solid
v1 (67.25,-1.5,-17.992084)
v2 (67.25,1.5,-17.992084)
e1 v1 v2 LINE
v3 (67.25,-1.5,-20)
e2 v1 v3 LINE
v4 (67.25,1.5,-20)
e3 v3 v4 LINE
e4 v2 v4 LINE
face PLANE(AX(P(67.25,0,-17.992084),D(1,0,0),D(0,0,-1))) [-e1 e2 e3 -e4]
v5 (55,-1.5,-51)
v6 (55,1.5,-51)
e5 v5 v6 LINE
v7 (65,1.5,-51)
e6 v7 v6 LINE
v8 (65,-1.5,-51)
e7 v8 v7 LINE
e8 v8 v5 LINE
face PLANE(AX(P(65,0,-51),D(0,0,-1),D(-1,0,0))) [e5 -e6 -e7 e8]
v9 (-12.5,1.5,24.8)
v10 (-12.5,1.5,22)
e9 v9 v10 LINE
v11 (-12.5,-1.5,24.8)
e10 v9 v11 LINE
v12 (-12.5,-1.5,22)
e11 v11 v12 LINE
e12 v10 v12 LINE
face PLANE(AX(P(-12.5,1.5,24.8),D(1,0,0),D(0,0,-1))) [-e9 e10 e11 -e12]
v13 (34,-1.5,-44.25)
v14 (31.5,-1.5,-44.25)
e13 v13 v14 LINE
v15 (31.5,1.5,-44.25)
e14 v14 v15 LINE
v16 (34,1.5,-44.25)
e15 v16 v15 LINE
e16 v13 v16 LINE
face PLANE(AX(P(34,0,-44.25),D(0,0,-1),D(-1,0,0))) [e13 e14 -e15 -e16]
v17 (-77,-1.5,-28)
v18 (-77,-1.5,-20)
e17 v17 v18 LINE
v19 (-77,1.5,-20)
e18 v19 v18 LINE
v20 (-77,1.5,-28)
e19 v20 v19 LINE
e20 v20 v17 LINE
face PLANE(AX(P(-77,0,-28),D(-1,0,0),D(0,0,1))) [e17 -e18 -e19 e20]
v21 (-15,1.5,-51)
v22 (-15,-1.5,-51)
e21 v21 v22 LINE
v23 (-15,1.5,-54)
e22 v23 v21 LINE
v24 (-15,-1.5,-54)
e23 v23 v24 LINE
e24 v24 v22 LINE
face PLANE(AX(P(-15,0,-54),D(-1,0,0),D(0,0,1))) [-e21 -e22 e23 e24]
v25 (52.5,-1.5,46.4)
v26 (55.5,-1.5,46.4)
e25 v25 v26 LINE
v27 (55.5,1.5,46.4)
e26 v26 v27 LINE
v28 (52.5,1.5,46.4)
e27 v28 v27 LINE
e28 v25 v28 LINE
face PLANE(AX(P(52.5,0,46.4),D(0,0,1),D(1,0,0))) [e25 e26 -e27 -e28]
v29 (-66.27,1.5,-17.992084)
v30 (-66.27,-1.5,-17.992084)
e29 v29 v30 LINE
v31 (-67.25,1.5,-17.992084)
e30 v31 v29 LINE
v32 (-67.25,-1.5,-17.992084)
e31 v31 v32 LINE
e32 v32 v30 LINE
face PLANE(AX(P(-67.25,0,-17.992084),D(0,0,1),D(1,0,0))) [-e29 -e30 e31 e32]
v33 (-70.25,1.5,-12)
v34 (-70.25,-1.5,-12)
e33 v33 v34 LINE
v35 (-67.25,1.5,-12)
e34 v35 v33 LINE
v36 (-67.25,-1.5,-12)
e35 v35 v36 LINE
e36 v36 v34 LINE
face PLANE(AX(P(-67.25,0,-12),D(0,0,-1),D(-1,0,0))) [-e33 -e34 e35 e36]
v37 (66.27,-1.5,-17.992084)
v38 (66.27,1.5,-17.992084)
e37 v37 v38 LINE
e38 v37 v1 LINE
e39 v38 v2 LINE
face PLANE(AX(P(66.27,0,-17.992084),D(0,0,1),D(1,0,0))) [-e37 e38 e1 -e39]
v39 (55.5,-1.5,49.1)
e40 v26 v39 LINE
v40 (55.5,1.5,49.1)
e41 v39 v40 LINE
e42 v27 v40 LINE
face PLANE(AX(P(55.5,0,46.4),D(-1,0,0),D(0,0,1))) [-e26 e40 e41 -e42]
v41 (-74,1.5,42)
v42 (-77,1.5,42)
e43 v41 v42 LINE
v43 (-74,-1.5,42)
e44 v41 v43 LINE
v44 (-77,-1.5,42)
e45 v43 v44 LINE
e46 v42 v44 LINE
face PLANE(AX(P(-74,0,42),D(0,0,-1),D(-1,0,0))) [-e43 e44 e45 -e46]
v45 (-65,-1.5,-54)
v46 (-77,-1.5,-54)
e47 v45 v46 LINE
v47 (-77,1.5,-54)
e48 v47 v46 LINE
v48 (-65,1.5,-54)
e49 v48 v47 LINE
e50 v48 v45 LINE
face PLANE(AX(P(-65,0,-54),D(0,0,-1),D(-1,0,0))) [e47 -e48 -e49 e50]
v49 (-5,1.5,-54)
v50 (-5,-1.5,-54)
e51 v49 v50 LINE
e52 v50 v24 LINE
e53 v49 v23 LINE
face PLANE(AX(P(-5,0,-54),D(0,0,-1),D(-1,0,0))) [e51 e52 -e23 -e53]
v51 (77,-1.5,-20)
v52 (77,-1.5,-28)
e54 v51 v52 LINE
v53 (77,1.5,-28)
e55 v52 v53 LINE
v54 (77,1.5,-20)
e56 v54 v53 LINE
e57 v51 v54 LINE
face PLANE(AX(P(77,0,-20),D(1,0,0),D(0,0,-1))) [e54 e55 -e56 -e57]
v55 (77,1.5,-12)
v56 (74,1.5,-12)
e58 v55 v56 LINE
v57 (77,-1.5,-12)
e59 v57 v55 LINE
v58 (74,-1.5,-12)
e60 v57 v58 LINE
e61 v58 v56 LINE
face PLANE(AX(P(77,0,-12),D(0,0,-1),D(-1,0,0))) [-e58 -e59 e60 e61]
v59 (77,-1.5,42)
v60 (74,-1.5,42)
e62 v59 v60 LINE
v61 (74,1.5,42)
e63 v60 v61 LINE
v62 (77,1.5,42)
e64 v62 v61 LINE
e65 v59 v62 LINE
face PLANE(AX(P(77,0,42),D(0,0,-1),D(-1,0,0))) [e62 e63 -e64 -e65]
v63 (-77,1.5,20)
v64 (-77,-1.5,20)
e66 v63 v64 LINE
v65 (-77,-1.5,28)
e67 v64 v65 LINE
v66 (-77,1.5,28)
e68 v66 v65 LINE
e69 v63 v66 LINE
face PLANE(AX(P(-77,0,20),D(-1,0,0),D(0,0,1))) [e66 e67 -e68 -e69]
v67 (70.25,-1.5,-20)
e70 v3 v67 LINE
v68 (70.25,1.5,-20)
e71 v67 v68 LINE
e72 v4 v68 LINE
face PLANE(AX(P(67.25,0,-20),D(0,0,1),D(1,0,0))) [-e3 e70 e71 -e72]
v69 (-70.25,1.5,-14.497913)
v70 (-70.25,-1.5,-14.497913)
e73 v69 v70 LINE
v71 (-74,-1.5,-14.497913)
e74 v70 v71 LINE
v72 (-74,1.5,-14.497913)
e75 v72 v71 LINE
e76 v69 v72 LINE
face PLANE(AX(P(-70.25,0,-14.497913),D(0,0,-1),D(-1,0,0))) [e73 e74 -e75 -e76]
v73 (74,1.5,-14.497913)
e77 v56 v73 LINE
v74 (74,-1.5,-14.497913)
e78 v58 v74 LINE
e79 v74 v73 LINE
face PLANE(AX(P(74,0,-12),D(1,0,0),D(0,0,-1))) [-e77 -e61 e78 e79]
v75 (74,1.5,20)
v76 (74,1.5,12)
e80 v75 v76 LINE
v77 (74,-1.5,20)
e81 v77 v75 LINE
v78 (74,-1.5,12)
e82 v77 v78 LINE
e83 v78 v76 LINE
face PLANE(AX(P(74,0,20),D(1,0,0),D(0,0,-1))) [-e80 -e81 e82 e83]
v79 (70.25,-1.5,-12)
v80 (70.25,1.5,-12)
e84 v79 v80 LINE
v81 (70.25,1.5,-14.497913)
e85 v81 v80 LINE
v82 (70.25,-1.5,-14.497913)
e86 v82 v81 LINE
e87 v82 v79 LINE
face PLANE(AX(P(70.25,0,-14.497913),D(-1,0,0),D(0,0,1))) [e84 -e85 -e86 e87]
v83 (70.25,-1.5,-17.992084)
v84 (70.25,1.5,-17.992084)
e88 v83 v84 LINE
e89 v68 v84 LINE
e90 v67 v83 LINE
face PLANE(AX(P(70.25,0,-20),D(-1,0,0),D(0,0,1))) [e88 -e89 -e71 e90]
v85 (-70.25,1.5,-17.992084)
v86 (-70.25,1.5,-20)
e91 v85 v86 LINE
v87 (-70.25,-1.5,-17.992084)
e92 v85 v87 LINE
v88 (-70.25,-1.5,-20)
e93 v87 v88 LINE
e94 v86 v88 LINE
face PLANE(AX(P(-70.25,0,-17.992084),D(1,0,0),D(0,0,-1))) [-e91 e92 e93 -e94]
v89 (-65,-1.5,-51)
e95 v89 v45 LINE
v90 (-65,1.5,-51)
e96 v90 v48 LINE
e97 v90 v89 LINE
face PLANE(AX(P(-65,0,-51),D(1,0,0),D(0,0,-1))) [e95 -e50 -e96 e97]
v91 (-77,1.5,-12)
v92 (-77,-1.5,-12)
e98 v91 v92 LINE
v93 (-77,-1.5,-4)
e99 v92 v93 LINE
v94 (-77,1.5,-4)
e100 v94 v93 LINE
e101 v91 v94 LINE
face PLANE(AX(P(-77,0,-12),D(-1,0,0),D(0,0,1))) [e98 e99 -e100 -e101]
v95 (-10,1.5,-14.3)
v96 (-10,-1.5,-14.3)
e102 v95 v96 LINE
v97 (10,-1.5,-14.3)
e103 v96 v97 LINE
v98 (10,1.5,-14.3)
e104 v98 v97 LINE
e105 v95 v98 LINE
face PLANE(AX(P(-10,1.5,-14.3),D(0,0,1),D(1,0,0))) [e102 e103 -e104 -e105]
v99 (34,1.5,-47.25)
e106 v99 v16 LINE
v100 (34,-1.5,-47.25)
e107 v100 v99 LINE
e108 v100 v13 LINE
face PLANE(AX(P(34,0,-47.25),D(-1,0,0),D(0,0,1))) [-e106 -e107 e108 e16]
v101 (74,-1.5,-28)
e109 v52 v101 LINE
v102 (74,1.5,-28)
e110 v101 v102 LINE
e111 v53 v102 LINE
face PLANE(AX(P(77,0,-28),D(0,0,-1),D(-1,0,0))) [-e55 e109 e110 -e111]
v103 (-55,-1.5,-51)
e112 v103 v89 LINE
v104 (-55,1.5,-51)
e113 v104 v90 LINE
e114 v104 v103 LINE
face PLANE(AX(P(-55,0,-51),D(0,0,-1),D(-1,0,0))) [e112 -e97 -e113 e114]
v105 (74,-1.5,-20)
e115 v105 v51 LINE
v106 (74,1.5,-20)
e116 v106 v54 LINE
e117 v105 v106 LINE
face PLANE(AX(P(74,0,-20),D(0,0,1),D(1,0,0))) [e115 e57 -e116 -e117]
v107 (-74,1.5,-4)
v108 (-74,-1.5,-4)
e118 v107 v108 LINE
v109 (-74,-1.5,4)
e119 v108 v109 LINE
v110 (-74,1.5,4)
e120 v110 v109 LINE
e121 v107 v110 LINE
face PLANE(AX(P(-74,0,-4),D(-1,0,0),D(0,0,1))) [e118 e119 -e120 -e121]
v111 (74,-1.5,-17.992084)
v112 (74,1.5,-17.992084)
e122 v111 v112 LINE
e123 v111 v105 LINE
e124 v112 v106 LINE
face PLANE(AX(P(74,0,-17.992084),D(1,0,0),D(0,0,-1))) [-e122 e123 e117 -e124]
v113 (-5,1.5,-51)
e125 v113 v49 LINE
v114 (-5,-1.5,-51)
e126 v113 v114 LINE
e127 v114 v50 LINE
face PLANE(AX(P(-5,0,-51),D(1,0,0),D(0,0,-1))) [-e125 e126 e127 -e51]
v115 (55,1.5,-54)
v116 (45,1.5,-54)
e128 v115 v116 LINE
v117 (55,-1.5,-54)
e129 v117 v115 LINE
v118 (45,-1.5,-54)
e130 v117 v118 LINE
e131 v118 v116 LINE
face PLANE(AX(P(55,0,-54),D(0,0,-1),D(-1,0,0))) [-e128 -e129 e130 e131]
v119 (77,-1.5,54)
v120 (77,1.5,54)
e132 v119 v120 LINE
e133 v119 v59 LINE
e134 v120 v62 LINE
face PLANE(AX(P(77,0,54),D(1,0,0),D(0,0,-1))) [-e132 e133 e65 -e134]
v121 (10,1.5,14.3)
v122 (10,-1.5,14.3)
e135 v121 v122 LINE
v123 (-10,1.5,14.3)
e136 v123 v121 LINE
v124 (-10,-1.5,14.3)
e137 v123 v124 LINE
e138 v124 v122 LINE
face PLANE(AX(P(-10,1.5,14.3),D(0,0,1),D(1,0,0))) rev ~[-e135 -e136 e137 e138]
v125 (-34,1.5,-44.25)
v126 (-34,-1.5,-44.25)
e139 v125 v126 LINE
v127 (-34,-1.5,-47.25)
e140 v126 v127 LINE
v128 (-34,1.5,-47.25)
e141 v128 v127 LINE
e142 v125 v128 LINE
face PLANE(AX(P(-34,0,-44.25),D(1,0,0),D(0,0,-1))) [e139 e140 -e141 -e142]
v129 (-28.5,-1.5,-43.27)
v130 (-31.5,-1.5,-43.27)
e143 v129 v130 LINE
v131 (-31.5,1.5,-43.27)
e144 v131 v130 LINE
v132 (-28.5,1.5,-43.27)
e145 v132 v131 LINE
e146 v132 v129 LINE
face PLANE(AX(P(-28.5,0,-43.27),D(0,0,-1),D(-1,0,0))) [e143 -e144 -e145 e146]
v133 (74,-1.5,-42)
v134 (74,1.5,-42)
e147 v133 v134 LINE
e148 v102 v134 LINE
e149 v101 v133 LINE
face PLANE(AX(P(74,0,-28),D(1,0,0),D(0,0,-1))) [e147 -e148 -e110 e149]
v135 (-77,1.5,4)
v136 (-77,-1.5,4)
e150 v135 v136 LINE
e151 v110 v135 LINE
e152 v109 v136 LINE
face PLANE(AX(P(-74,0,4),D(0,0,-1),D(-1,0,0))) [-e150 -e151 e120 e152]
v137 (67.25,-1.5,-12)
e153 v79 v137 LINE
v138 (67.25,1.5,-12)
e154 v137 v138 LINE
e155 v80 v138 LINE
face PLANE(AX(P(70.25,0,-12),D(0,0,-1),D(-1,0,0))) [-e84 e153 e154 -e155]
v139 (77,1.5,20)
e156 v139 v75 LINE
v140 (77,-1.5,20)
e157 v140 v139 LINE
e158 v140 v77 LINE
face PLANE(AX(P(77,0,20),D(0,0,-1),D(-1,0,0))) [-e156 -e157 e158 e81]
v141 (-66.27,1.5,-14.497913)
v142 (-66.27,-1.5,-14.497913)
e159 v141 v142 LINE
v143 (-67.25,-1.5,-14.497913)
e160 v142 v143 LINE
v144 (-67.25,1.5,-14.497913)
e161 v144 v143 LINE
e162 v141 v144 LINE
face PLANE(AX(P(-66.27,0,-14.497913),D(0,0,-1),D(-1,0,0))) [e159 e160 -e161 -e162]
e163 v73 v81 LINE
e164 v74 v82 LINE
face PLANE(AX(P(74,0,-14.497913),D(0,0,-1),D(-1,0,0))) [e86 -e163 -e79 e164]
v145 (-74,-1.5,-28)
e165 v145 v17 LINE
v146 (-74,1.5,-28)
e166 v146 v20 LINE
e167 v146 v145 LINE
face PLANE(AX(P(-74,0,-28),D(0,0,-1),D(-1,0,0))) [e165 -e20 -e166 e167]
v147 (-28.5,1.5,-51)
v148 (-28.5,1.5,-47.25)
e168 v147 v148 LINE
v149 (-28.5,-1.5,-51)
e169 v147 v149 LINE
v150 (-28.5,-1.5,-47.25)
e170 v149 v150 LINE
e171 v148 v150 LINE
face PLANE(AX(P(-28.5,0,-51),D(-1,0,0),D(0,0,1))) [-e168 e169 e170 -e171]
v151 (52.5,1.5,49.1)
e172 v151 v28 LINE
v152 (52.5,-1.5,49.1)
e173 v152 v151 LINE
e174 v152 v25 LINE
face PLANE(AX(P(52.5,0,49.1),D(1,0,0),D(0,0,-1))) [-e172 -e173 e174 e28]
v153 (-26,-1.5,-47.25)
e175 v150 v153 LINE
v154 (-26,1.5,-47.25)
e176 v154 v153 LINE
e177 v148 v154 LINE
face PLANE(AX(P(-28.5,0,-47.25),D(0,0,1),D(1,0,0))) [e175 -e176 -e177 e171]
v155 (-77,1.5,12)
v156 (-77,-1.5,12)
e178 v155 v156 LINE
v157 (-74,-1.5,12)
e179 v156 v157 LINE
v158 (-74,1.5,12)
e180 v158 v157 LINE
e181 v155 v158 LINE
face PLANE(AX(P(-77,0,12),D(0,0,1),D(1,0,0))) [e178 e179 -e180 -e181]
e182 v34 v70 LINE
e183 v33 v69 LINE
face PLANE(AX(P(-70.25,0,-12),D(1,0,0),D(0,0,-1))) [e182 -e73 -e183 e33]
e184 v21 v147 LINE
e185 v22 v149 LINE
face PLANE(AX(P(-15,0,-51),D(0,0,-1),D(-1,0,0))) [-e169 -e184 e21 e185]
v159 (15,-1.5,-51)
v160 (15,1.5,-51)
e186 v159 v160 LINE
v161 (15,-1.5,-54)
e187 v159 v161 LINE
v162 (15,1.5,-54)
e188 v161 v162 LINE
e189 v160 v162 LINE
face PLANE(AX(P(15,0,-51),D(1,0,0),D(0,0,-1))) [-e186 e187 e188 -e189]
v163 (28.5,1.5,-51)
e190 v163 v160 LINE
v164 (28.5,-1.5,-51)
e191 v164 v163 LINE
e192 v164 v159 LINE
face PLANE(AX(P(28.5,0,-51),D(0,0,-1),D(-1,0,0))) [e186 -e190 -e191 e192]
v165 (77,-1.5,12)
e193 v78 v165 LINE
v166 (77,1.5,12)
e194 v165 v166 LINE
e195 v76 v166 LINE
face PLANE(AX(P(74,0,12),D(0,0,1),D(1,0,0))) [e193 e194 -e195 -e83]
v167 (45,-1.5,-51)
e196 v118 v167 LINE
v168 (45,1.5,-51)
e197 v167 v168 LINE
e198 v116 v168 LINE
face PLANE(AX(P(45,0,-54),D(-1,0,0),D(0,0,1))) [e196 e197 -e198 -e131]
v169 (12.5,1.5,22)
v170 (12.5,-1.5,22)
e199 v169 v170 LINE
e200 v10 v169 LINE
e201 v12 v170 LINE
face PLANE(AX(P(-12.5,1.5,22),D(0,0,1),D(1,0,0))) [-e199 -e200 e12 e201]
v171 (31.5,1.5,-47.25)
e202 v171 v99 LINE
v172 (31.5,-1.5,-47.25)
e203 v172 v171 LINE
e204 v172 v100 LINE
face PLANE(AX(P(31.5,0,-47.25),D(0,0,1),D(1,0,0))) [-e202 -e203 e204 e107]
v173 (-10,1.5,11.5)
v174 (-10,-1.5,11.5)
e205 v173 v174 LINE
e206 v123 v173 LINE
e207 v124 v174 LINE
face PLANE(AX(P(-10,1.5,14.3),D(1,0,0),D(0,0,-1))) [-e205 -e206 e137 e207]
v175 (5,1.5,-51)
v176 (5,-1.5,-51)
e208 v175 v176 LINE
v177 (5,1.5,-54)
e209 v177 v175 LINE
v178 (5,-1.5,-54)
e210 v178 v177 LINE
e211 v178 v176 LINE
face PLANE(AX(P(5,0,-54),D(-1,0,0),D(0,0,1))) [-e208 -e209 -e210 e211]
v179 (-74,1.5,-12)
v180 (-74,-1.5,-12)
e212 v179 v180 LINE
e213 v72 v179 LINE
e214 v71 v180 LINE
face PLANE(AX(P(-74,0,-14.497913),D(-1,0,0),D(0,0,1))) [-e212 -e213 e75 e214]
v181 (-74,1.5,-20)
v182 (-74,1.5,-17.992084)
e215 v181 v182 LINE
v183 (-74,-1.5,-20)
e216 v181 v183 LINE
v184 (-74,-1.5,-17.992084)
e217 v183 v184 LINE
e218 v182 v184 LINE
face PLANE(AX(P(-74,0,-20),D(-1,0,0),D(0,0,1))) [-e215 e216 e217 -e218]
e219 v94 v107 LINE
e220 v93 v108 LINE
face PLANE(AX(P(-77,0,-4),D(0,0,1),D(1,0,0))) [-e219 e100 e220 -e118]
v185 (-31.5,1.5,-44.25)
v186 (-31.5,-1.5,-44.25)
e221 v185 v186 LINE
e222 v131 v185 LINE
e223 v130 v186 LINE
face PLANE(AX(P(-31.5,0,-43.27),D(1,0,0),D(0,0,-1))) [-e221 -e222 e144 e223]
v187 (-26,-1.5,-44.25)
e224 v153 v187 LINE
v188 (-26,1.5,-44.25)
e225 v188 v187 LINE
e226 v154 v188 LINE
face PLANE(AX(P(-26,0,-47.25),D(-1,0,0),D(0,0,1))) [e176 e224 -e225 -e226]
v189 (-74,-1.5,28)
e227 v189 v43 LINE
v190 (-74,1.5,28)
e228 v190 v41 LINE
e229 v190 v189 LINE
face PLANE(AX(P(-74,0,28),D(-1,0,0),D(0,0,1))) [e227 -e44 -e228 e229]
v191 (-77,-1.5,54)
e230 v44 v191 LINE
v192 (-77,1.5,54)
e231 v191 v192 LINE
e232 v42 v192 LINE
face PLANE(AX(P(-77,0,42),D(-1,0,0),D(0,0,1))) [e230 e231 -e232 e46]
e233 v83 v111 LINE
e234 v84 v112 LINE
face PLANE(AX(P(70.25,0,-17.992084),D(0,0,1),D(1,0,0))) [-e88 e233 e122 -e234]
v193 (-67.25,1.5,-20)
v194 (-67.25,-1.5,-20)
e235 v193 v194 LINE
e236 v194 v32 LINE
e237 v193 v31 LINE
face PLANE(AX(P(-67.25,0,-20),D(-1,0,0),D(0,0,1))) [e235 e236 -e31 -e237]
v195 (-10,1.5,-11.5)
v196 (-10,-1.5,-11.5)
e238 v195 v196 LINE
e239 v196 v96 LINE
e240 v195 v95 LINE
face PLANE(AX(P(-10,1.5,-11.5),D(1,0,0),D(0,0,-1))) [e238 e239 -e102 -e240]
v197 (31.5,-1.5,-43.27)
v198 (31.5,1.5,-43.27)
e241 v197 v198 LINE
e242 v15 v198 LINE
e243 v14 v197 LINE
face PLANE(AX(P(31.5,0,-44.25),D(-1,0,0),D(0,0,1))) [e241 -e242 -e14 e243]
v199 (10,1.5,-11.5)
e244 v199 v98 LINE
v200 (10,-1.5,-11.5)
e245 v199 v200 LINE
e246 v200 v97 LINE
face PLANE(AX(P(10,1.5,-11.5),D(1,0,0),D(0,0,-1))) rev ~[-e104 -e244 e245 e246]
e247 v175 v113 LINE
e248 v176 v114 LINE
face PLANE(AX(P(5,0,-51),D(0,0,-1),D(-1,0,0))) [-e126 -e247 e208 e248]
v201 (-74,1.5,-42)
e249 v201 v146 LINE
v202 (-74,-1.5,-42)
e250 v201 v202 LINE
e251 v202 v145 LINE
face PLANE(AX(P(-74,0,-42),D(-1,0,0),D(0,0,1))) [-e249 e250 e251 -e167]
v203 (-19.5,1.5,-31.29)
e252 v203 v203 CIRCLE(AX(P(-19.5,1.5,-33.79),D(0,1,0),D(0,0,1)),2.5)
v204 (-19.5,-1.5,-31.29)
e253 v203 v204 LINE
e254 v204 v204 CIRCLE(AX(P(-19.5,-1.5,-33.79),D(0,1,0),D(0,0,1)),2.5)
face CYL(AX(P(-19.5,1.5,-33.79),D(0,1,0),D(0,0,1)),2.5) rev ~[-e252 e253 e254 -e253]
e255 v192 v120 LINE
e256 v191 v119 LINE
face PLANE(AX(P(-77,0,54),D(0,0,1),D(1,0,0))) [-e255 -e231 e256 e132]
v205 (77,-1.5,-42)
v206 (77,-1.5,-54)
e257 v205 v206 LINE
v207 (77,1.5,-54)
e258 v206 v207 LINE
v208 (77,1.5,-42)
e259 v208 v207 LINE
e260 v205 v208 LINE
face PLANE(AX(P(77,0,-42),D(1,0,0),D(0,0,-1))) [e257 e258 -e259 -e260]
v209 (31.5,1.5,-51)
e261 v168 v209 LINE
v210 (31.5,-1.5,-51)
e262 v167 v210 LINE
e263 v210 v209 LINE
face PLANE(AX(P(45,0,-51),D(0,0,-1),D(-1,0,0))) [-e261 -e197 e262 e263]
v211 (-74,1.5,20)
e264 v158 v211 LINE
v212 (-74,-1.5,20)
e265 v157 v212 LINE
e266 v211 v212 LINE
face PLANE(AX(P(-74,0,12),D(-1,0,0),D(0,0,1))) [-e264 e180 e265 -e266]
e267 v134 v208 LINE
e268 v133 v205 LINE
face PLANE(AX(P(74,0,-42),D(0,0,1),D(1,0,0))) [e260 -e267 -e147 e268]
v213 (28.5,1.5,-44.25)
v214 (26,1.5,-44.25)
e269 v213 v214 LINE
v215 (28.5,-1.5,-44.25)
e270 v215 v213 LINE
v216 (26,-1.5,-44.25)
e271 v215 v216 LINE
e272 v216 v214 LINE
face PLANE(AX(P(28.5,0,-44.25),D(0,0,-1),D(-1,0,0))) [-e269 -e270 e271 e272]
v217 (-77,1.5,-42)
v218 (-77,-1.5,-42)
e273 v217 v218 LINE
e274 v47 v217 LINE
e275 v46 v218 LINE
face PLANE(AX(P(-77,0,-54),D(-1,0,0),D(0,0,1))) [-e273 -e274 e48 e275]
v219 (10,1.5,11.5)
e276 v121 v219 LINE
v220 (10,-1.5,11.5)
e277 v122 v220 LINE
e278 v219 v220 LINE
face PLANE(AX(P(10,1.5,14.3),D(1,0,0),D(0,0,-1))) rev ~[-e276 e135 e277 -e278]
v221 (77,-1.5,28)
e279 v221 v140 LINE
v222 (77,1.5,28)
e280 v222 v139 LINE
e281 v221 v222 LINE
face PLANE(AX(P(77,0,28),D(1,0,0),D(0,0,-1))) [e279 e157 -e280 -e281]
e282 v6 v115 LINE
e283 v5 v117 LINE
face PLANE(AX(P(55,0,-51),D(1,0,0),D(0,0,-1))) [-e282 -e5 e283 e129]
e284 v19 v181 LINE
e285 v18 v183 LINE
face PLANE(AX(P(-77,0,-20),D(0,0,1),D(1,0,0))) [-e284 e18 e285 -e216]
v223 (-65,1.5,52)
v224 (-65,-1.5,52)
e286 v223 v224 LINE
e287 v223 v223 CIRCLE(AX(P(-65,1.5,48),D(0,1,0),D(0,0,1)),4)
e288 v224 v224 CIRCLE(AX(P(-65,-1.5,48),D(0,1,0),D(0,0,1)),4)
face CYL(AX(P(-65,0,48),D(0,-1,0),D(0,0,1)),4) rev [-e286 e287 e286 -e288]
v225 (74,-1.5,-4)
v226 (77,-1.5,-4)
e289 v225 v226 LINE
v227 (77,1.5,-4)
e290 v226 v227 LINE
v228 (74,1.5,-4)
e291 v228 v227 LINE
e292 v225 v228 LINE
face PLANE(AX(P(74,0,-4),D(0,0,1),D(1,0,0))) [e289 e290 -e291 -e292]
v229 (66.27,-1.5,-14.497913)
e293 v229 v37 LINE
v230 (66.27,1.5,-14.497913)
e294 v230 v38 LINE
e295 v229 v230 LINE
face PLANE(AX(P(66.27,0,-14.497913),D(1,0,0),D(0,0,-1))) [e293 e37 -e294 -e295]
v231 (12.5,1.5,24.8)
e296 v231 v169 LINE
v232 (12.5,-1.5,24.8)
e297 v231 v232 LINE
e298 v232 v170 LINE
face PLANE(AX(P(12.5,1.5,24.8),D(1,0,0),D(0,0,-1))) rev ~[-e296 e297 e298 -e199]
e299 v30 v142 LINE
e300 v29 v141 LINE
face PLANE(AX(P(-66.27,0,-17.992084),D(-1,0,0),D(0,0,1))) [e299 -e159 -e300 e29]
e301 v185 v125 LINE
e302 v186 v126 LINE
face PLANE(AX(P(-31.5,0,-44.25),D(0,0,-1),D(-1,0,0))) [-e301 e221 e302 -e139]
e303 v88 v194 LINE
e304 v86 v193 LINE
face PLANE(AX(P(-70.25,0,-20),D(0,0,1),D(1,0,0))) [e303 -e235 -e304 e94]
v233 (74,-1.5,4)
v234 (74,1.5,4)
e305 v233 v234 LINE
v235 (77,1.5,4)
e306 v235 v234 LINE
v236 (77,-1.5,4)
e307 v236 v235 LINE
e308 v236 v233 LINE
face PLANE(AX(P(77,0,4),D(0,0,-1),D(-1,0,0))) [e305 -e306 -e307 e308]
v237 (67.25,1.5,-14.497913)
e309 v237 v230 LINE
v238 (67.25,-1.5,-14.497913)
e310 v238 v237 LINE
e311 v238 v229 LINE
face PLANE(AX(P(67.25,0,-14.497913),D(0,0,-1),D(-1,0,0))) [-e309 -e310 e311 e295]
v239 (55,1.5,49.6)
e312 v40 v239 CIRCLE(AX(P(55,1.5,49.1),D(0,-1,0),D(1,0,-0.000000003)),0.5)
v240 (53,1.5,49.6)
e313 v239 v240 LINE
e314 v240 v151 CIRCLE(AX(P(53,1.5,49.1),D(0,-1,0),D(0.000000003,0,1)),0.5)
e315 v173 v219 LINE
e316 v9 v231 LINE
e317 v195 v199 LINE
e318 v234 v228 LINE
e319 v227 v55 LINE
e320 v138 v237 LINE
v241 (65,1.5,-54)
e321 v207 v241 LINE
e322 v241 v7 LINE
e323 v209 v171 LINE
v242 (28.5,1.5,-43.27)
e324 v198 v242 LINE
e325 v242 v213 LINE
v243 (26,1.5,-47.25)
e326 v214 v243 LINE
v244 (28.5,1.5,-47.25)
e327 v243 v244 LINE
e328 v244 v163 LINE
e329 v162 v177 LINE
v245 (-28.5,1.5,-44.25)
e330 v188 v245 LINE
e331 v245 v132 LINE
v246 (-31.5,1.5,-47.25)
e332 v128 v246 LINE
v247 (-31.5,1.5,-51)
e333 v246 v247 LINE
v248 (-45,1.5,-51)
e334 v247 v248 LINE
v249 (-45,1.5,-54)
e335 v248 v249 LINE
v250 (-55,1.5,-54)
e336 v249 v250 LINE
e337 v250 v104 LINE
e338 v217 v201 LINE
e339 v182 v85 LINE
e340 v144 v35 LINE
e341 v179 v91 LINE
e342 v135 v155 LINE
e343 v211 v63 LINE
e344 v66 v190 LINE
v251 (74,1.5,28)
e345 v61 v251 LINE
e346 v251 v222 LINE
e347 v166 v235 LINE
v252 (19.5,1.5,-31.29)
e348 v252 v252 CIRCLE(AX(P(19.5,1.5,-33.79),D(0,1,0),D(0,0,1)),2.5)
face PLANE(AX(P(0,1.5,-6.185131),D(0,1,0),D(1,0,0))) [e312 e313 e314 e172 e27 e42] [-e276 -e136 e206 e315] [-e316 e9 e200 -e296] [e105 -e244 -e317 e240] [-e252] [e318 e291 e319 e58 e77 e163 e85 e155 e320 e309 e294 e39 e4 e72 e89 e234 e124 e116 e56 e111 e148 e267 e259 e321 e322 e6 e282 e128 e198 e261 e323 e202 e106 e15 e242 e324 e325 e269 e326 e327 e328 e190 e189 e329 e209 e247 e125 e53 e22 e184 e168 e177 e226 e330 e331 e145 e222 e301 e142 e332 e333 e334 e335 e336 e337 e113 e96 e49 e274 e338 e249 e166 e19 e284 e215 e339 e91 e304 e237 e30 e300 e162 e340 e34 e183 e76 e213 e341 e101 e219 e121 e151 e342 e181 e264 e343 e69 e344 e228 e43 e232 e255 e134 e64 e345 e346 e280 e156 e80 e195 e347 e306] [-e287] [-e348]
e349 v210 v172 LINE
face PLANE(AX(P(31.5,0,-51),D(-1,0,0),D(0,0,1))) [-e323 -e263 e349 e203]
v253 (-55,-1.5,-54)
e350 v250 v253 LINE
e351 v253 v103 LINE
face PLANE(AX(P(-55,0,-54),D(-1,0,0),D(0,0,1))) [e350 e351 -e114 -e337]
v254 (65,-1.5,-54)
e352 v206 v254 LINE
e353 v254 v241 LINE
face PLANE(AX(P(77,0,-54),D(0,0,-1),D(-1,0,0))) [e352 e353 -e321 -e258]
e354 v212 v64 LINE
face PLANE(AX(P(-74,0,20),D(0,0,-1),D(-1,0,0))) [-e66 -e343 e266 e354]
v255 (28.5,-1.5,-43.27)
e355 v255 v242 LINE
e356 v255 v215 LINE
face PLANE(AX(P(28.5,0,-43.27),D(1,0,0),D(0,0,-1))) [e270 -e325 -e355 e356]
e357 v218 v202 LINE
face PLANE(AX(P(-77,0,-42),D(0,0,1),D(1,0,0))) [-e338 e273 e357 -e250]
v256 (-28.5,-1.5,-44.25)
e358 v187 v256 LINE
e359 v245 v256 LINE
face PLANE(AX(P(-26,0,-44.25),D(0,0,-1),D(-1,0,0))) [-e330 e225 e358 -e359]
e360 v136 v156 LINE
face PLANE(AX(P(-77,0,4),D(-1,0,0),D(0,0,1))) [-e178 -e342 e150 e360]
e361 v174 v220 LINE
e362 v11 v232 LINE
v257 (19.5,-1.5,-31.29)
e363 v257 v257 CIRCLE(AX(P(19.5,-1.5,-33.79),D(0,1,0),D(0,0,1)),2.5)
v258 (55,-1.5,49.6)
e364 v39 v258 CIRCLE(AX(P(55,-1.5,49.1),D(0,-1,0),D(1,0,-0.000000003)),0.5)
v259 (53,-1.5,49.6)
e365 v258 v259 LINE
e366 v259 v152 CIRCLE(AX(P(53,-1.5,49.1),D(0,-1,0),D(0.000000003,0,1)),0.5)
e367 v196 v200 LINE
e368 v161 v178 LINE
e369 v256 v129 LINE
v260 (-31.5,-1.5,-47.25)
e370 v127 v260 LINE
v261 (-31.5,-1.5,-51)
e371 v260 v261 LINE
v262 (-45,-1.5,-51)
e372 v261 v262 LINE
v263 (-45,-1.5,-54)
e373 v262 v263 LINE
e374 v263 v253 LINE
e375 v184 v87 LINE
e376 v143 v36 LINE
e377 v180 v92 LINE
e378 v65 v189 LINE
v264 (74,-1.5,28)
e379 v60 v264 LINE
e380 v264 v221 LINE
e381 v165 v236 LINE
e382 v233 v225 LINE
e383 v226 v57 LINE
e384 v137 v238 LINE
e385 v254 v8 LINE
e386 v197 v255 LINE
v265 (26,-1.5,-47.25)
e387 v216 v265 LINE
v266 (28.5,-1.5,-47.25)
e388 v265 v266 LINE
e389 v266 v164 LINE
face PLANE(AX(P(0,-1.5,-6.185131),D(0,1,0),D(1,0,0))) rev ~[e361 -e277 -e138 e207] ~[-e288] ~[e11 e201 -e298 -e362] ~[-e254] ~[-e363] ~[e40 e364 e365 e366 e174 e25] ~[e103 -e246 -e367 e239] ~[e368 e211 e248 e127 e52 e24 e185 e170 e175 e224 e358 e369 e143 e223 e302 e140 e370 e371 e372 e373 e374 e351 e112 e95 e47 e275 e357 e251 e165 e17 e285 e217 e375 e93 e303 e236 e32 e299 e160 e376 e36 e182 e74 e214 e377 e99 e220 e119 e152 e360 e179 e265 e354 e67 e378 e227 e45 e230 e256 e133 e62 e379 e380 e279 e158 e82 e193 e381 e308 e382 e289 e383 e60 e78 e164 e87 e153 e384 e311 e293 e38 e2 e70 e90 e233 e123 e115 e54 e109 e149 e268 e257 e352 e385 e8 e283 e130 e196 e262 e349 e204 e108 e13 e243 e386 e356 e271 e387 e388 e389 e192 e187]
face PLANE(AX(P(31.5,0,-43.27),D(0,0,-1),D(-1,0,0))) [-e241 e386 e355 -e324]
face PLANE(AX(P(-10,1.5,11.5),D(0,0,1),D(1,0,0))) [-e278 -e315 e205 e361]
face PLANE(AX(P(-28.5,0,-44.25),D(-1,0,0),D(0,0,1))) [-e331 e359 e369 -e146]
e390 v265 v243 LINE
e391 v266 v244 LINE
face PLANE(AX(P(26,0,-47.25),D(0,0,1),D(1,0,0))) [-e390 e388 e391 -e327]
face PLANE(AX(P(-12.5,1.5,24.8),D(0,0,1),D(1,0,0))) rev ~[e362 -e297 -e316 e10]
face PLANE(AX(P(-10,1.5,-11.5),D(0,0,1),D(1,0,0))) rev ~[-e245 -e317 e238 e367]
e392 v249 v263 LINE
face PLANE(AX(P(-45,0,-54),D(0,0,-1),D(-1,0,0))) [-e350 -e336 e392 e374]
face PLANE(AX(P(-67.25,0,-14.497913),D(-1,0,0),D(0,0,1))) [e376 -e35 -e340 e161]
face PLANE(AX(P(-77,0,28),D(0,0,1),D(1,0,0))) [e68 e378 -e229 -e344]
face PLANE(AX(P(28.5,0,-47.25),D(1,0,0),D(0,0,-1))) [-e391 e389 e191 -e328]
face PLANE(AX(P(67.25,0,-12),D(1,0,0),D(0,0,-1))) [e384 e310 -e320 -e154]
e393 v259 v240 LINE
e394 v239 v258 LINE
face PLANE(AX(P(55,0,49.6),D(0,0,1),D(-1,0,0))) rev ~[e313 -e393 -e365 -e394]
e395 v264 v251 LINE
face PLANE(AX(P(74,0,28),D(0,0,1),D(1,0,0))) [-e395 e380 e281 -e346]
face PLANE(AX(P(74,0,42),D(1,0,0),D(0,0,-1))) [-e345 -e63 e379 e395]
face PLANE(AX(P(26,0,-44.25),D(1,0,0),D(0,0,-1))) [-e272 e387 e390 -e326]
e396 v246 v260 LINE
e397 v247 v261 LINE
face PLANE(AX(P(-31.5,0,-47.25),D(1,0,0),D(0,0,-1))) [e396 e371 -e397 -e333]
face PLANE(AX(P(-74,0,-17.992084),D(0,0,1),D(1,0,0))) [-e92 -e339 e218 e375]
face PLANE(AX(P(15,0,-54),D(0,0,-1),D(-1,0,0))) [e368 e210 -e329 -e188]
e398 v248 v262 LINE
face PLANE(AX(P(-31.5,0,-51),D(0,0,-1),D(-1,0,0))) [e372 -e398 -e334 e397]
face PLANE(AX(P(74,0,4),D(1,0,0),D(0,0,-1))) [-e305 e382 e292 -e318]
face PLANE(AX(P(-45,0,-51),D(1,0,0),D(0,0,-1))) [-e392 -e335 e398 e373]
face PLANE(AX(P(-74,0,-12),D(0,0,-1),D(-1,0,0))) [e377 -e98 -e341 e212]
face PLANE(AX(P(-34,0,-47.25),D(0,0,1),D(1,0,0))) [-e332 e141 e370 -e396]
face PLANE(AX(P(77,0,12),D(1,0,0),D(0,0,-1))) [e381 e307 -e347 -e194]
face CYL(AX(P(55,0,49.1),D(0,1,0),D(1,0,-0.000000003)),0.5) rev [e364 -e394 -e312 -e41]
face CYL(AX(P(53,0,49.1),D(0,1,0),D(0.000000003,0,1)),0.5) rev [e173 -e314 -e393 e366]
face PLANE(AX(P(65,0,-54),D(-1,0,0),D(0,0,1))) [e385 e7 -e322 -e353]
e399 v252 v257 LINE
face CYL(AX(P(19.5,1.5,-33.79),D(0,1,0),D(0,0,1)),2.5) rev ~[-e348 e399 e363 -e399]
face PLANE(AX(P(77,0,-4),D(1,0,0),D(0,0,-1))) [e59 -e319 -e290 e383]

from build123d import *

# Parameters (mm, degrees)
CROQUIS1_R              = 4
SALIENTE_EXTRUIR1_DEPTH = 1.5
CROQUIS3_R              = 2.5
CROQUIS3_W              = 20
CROQUIS3_H              = 2.8
CROQUIS3_W_2            = 25
CORTAR_EXTRUIR2_DEPTH   = 3


with BuildPart() as part:
    # Croquis1 → Saliente-Extruir1 (new, symmetric)
    with BuildSketch(Plane(origin=(0, 0, 0), x_dir=(1, 0, 0), z_dir=(0, 1, 0))):
        Polygon((-77, -42), (-77, -54), (77, -54), (77, -42), (74, -42), (74, -28), (77, -28), (77, -20), (74, -20), (74, -12), (77, -12), (77, -4), (74, -4), (74, -1.5), (74, 1.5), (74, 4), (77, 4), (77, 12), (74, 12), (74, 14.497912952), (70.25, 14.497912952), (70.25, 12), (67.25, 12), (67.25, 14.497912952), (66.27, 14.497912952), (66.27, 17.992083938), (67.25, 17.992083938), (67.25, 20), (70.25, 20), (70.25, 17.992083938), (74, 17.992083938), (74, 20), (77, 20), (77, 28), (74, 28), (74, 42), (77, 42), (77, 54), (65, 54), (65, 51), (55, 51), (55, 54), (45, 54), (45, 51), (31.5, 51), (31.5, 47.25), (34, 47.25), (34, 44.25), (31.5, 44.25), (31.5, 43.27), (28.5, 43.27), (28.5, 44.25), (26, 44.25), (26, 47.25), (28.5, 47.25), (28.5, 51), (15, 51), (15, 54), (5, 54), (5, 51), (-5, 51), (-5, 54), (-15, 54), (-15, 51), (-28.5, 51), (-28.5, 47.25), (-26, 47.25), (-26, 44.25), (-28.5, 44.25), (-28.5, 43.27), (-31.5, 43.27), (-31.5, 44.25), (-34, 44.25), (-34, 47.25), (-31.5, 47.25), (-31.5, 51), (-45, 51), (-45, 54), (-55, 54), (-55, 51), (-65, 51), (-65, 54), (-77, 54), (-77, 42), (-74, 42), (-74, 28), (-77, 28), (-77, 20), (-74, 20), (-74, 17.992083938), (-70.25, 17.992083938), (-70.25, 20), (-67.25, 20), (-67.25, 17.992083938), (-66.27, 17.992083938), (-66.27, 14.497912952), (-67.25, 14.497912952), (-67.25, 12), (-70.25, 12), (-70.25, 14.497912952), (-74, 14.497912952), (-74, 12), (-77, 12), (-77, 4), (-74, 4), (-74, 1.5), (-74, -1.5), (-74, -4), (-77, -4), (-77, -12), (-74, -12), (-74, -20), (-77, -20), (-77, -28), (-74, -28), (-74, -42), align=None)
        with Locations(Location((-65, -48, 0), (0, 0, 270))):
            Circle(CROQUIS1_R, mode=Mode.SUBTRACT)
        with BuildLine():
            Line((55, -49.6), (53, -49.6))
            ThreePointArc((53, -49.6), (52.646446609, -49.453553391), (52.5, -49.1))
            Line((52.5, -49.1), (52.5, -46.4))
            Line((52.5, -46.4), (55.5, -46.4))
            Line((55.5, -46.4), (55.5, -49.1))
            ThreePointArc((55.5, -49.1), (55.353553391, -49.453553391), (55, -49.6))
        make_face(mode=Mode.SUBTRACT)
    extrude(amount=SALIENTE_EXTRUIR1_DEPTH, both=True)

    # Croquis3 → Cortar-Extruir2 (cut)
    with BuildSketch(Plane(origin=(0, 1.5, 0), x_dir=(1, 0, 0), z_dir=(0, 1, 0))):
        with Locations(Location((-19.5, 33.79, 0), (0, 0, 270))):
            Circle(CROQUIS3_R)
        with Locations(Location((19.5, 33.79, 0), (0, 0, 270))):
            Circle(CROQUIS3_R)
        with Locations((0, 12.9)):
            Rectangle(CROQUIS3_W, CROQUIS3_H)
        with Locations((0, -12.9)):
            Rectangle(CROQUIS3_W, CROQUIS3_H)
        with Locations((0, -23.4)):
            Rectangle(CROQUIS3_W_2, CROQUIS3_H)
    extrude(amount=-CORTAR_EXTRUIR2_DEPTH, mode=Mode.SUBTRACT)


solid = part.part
